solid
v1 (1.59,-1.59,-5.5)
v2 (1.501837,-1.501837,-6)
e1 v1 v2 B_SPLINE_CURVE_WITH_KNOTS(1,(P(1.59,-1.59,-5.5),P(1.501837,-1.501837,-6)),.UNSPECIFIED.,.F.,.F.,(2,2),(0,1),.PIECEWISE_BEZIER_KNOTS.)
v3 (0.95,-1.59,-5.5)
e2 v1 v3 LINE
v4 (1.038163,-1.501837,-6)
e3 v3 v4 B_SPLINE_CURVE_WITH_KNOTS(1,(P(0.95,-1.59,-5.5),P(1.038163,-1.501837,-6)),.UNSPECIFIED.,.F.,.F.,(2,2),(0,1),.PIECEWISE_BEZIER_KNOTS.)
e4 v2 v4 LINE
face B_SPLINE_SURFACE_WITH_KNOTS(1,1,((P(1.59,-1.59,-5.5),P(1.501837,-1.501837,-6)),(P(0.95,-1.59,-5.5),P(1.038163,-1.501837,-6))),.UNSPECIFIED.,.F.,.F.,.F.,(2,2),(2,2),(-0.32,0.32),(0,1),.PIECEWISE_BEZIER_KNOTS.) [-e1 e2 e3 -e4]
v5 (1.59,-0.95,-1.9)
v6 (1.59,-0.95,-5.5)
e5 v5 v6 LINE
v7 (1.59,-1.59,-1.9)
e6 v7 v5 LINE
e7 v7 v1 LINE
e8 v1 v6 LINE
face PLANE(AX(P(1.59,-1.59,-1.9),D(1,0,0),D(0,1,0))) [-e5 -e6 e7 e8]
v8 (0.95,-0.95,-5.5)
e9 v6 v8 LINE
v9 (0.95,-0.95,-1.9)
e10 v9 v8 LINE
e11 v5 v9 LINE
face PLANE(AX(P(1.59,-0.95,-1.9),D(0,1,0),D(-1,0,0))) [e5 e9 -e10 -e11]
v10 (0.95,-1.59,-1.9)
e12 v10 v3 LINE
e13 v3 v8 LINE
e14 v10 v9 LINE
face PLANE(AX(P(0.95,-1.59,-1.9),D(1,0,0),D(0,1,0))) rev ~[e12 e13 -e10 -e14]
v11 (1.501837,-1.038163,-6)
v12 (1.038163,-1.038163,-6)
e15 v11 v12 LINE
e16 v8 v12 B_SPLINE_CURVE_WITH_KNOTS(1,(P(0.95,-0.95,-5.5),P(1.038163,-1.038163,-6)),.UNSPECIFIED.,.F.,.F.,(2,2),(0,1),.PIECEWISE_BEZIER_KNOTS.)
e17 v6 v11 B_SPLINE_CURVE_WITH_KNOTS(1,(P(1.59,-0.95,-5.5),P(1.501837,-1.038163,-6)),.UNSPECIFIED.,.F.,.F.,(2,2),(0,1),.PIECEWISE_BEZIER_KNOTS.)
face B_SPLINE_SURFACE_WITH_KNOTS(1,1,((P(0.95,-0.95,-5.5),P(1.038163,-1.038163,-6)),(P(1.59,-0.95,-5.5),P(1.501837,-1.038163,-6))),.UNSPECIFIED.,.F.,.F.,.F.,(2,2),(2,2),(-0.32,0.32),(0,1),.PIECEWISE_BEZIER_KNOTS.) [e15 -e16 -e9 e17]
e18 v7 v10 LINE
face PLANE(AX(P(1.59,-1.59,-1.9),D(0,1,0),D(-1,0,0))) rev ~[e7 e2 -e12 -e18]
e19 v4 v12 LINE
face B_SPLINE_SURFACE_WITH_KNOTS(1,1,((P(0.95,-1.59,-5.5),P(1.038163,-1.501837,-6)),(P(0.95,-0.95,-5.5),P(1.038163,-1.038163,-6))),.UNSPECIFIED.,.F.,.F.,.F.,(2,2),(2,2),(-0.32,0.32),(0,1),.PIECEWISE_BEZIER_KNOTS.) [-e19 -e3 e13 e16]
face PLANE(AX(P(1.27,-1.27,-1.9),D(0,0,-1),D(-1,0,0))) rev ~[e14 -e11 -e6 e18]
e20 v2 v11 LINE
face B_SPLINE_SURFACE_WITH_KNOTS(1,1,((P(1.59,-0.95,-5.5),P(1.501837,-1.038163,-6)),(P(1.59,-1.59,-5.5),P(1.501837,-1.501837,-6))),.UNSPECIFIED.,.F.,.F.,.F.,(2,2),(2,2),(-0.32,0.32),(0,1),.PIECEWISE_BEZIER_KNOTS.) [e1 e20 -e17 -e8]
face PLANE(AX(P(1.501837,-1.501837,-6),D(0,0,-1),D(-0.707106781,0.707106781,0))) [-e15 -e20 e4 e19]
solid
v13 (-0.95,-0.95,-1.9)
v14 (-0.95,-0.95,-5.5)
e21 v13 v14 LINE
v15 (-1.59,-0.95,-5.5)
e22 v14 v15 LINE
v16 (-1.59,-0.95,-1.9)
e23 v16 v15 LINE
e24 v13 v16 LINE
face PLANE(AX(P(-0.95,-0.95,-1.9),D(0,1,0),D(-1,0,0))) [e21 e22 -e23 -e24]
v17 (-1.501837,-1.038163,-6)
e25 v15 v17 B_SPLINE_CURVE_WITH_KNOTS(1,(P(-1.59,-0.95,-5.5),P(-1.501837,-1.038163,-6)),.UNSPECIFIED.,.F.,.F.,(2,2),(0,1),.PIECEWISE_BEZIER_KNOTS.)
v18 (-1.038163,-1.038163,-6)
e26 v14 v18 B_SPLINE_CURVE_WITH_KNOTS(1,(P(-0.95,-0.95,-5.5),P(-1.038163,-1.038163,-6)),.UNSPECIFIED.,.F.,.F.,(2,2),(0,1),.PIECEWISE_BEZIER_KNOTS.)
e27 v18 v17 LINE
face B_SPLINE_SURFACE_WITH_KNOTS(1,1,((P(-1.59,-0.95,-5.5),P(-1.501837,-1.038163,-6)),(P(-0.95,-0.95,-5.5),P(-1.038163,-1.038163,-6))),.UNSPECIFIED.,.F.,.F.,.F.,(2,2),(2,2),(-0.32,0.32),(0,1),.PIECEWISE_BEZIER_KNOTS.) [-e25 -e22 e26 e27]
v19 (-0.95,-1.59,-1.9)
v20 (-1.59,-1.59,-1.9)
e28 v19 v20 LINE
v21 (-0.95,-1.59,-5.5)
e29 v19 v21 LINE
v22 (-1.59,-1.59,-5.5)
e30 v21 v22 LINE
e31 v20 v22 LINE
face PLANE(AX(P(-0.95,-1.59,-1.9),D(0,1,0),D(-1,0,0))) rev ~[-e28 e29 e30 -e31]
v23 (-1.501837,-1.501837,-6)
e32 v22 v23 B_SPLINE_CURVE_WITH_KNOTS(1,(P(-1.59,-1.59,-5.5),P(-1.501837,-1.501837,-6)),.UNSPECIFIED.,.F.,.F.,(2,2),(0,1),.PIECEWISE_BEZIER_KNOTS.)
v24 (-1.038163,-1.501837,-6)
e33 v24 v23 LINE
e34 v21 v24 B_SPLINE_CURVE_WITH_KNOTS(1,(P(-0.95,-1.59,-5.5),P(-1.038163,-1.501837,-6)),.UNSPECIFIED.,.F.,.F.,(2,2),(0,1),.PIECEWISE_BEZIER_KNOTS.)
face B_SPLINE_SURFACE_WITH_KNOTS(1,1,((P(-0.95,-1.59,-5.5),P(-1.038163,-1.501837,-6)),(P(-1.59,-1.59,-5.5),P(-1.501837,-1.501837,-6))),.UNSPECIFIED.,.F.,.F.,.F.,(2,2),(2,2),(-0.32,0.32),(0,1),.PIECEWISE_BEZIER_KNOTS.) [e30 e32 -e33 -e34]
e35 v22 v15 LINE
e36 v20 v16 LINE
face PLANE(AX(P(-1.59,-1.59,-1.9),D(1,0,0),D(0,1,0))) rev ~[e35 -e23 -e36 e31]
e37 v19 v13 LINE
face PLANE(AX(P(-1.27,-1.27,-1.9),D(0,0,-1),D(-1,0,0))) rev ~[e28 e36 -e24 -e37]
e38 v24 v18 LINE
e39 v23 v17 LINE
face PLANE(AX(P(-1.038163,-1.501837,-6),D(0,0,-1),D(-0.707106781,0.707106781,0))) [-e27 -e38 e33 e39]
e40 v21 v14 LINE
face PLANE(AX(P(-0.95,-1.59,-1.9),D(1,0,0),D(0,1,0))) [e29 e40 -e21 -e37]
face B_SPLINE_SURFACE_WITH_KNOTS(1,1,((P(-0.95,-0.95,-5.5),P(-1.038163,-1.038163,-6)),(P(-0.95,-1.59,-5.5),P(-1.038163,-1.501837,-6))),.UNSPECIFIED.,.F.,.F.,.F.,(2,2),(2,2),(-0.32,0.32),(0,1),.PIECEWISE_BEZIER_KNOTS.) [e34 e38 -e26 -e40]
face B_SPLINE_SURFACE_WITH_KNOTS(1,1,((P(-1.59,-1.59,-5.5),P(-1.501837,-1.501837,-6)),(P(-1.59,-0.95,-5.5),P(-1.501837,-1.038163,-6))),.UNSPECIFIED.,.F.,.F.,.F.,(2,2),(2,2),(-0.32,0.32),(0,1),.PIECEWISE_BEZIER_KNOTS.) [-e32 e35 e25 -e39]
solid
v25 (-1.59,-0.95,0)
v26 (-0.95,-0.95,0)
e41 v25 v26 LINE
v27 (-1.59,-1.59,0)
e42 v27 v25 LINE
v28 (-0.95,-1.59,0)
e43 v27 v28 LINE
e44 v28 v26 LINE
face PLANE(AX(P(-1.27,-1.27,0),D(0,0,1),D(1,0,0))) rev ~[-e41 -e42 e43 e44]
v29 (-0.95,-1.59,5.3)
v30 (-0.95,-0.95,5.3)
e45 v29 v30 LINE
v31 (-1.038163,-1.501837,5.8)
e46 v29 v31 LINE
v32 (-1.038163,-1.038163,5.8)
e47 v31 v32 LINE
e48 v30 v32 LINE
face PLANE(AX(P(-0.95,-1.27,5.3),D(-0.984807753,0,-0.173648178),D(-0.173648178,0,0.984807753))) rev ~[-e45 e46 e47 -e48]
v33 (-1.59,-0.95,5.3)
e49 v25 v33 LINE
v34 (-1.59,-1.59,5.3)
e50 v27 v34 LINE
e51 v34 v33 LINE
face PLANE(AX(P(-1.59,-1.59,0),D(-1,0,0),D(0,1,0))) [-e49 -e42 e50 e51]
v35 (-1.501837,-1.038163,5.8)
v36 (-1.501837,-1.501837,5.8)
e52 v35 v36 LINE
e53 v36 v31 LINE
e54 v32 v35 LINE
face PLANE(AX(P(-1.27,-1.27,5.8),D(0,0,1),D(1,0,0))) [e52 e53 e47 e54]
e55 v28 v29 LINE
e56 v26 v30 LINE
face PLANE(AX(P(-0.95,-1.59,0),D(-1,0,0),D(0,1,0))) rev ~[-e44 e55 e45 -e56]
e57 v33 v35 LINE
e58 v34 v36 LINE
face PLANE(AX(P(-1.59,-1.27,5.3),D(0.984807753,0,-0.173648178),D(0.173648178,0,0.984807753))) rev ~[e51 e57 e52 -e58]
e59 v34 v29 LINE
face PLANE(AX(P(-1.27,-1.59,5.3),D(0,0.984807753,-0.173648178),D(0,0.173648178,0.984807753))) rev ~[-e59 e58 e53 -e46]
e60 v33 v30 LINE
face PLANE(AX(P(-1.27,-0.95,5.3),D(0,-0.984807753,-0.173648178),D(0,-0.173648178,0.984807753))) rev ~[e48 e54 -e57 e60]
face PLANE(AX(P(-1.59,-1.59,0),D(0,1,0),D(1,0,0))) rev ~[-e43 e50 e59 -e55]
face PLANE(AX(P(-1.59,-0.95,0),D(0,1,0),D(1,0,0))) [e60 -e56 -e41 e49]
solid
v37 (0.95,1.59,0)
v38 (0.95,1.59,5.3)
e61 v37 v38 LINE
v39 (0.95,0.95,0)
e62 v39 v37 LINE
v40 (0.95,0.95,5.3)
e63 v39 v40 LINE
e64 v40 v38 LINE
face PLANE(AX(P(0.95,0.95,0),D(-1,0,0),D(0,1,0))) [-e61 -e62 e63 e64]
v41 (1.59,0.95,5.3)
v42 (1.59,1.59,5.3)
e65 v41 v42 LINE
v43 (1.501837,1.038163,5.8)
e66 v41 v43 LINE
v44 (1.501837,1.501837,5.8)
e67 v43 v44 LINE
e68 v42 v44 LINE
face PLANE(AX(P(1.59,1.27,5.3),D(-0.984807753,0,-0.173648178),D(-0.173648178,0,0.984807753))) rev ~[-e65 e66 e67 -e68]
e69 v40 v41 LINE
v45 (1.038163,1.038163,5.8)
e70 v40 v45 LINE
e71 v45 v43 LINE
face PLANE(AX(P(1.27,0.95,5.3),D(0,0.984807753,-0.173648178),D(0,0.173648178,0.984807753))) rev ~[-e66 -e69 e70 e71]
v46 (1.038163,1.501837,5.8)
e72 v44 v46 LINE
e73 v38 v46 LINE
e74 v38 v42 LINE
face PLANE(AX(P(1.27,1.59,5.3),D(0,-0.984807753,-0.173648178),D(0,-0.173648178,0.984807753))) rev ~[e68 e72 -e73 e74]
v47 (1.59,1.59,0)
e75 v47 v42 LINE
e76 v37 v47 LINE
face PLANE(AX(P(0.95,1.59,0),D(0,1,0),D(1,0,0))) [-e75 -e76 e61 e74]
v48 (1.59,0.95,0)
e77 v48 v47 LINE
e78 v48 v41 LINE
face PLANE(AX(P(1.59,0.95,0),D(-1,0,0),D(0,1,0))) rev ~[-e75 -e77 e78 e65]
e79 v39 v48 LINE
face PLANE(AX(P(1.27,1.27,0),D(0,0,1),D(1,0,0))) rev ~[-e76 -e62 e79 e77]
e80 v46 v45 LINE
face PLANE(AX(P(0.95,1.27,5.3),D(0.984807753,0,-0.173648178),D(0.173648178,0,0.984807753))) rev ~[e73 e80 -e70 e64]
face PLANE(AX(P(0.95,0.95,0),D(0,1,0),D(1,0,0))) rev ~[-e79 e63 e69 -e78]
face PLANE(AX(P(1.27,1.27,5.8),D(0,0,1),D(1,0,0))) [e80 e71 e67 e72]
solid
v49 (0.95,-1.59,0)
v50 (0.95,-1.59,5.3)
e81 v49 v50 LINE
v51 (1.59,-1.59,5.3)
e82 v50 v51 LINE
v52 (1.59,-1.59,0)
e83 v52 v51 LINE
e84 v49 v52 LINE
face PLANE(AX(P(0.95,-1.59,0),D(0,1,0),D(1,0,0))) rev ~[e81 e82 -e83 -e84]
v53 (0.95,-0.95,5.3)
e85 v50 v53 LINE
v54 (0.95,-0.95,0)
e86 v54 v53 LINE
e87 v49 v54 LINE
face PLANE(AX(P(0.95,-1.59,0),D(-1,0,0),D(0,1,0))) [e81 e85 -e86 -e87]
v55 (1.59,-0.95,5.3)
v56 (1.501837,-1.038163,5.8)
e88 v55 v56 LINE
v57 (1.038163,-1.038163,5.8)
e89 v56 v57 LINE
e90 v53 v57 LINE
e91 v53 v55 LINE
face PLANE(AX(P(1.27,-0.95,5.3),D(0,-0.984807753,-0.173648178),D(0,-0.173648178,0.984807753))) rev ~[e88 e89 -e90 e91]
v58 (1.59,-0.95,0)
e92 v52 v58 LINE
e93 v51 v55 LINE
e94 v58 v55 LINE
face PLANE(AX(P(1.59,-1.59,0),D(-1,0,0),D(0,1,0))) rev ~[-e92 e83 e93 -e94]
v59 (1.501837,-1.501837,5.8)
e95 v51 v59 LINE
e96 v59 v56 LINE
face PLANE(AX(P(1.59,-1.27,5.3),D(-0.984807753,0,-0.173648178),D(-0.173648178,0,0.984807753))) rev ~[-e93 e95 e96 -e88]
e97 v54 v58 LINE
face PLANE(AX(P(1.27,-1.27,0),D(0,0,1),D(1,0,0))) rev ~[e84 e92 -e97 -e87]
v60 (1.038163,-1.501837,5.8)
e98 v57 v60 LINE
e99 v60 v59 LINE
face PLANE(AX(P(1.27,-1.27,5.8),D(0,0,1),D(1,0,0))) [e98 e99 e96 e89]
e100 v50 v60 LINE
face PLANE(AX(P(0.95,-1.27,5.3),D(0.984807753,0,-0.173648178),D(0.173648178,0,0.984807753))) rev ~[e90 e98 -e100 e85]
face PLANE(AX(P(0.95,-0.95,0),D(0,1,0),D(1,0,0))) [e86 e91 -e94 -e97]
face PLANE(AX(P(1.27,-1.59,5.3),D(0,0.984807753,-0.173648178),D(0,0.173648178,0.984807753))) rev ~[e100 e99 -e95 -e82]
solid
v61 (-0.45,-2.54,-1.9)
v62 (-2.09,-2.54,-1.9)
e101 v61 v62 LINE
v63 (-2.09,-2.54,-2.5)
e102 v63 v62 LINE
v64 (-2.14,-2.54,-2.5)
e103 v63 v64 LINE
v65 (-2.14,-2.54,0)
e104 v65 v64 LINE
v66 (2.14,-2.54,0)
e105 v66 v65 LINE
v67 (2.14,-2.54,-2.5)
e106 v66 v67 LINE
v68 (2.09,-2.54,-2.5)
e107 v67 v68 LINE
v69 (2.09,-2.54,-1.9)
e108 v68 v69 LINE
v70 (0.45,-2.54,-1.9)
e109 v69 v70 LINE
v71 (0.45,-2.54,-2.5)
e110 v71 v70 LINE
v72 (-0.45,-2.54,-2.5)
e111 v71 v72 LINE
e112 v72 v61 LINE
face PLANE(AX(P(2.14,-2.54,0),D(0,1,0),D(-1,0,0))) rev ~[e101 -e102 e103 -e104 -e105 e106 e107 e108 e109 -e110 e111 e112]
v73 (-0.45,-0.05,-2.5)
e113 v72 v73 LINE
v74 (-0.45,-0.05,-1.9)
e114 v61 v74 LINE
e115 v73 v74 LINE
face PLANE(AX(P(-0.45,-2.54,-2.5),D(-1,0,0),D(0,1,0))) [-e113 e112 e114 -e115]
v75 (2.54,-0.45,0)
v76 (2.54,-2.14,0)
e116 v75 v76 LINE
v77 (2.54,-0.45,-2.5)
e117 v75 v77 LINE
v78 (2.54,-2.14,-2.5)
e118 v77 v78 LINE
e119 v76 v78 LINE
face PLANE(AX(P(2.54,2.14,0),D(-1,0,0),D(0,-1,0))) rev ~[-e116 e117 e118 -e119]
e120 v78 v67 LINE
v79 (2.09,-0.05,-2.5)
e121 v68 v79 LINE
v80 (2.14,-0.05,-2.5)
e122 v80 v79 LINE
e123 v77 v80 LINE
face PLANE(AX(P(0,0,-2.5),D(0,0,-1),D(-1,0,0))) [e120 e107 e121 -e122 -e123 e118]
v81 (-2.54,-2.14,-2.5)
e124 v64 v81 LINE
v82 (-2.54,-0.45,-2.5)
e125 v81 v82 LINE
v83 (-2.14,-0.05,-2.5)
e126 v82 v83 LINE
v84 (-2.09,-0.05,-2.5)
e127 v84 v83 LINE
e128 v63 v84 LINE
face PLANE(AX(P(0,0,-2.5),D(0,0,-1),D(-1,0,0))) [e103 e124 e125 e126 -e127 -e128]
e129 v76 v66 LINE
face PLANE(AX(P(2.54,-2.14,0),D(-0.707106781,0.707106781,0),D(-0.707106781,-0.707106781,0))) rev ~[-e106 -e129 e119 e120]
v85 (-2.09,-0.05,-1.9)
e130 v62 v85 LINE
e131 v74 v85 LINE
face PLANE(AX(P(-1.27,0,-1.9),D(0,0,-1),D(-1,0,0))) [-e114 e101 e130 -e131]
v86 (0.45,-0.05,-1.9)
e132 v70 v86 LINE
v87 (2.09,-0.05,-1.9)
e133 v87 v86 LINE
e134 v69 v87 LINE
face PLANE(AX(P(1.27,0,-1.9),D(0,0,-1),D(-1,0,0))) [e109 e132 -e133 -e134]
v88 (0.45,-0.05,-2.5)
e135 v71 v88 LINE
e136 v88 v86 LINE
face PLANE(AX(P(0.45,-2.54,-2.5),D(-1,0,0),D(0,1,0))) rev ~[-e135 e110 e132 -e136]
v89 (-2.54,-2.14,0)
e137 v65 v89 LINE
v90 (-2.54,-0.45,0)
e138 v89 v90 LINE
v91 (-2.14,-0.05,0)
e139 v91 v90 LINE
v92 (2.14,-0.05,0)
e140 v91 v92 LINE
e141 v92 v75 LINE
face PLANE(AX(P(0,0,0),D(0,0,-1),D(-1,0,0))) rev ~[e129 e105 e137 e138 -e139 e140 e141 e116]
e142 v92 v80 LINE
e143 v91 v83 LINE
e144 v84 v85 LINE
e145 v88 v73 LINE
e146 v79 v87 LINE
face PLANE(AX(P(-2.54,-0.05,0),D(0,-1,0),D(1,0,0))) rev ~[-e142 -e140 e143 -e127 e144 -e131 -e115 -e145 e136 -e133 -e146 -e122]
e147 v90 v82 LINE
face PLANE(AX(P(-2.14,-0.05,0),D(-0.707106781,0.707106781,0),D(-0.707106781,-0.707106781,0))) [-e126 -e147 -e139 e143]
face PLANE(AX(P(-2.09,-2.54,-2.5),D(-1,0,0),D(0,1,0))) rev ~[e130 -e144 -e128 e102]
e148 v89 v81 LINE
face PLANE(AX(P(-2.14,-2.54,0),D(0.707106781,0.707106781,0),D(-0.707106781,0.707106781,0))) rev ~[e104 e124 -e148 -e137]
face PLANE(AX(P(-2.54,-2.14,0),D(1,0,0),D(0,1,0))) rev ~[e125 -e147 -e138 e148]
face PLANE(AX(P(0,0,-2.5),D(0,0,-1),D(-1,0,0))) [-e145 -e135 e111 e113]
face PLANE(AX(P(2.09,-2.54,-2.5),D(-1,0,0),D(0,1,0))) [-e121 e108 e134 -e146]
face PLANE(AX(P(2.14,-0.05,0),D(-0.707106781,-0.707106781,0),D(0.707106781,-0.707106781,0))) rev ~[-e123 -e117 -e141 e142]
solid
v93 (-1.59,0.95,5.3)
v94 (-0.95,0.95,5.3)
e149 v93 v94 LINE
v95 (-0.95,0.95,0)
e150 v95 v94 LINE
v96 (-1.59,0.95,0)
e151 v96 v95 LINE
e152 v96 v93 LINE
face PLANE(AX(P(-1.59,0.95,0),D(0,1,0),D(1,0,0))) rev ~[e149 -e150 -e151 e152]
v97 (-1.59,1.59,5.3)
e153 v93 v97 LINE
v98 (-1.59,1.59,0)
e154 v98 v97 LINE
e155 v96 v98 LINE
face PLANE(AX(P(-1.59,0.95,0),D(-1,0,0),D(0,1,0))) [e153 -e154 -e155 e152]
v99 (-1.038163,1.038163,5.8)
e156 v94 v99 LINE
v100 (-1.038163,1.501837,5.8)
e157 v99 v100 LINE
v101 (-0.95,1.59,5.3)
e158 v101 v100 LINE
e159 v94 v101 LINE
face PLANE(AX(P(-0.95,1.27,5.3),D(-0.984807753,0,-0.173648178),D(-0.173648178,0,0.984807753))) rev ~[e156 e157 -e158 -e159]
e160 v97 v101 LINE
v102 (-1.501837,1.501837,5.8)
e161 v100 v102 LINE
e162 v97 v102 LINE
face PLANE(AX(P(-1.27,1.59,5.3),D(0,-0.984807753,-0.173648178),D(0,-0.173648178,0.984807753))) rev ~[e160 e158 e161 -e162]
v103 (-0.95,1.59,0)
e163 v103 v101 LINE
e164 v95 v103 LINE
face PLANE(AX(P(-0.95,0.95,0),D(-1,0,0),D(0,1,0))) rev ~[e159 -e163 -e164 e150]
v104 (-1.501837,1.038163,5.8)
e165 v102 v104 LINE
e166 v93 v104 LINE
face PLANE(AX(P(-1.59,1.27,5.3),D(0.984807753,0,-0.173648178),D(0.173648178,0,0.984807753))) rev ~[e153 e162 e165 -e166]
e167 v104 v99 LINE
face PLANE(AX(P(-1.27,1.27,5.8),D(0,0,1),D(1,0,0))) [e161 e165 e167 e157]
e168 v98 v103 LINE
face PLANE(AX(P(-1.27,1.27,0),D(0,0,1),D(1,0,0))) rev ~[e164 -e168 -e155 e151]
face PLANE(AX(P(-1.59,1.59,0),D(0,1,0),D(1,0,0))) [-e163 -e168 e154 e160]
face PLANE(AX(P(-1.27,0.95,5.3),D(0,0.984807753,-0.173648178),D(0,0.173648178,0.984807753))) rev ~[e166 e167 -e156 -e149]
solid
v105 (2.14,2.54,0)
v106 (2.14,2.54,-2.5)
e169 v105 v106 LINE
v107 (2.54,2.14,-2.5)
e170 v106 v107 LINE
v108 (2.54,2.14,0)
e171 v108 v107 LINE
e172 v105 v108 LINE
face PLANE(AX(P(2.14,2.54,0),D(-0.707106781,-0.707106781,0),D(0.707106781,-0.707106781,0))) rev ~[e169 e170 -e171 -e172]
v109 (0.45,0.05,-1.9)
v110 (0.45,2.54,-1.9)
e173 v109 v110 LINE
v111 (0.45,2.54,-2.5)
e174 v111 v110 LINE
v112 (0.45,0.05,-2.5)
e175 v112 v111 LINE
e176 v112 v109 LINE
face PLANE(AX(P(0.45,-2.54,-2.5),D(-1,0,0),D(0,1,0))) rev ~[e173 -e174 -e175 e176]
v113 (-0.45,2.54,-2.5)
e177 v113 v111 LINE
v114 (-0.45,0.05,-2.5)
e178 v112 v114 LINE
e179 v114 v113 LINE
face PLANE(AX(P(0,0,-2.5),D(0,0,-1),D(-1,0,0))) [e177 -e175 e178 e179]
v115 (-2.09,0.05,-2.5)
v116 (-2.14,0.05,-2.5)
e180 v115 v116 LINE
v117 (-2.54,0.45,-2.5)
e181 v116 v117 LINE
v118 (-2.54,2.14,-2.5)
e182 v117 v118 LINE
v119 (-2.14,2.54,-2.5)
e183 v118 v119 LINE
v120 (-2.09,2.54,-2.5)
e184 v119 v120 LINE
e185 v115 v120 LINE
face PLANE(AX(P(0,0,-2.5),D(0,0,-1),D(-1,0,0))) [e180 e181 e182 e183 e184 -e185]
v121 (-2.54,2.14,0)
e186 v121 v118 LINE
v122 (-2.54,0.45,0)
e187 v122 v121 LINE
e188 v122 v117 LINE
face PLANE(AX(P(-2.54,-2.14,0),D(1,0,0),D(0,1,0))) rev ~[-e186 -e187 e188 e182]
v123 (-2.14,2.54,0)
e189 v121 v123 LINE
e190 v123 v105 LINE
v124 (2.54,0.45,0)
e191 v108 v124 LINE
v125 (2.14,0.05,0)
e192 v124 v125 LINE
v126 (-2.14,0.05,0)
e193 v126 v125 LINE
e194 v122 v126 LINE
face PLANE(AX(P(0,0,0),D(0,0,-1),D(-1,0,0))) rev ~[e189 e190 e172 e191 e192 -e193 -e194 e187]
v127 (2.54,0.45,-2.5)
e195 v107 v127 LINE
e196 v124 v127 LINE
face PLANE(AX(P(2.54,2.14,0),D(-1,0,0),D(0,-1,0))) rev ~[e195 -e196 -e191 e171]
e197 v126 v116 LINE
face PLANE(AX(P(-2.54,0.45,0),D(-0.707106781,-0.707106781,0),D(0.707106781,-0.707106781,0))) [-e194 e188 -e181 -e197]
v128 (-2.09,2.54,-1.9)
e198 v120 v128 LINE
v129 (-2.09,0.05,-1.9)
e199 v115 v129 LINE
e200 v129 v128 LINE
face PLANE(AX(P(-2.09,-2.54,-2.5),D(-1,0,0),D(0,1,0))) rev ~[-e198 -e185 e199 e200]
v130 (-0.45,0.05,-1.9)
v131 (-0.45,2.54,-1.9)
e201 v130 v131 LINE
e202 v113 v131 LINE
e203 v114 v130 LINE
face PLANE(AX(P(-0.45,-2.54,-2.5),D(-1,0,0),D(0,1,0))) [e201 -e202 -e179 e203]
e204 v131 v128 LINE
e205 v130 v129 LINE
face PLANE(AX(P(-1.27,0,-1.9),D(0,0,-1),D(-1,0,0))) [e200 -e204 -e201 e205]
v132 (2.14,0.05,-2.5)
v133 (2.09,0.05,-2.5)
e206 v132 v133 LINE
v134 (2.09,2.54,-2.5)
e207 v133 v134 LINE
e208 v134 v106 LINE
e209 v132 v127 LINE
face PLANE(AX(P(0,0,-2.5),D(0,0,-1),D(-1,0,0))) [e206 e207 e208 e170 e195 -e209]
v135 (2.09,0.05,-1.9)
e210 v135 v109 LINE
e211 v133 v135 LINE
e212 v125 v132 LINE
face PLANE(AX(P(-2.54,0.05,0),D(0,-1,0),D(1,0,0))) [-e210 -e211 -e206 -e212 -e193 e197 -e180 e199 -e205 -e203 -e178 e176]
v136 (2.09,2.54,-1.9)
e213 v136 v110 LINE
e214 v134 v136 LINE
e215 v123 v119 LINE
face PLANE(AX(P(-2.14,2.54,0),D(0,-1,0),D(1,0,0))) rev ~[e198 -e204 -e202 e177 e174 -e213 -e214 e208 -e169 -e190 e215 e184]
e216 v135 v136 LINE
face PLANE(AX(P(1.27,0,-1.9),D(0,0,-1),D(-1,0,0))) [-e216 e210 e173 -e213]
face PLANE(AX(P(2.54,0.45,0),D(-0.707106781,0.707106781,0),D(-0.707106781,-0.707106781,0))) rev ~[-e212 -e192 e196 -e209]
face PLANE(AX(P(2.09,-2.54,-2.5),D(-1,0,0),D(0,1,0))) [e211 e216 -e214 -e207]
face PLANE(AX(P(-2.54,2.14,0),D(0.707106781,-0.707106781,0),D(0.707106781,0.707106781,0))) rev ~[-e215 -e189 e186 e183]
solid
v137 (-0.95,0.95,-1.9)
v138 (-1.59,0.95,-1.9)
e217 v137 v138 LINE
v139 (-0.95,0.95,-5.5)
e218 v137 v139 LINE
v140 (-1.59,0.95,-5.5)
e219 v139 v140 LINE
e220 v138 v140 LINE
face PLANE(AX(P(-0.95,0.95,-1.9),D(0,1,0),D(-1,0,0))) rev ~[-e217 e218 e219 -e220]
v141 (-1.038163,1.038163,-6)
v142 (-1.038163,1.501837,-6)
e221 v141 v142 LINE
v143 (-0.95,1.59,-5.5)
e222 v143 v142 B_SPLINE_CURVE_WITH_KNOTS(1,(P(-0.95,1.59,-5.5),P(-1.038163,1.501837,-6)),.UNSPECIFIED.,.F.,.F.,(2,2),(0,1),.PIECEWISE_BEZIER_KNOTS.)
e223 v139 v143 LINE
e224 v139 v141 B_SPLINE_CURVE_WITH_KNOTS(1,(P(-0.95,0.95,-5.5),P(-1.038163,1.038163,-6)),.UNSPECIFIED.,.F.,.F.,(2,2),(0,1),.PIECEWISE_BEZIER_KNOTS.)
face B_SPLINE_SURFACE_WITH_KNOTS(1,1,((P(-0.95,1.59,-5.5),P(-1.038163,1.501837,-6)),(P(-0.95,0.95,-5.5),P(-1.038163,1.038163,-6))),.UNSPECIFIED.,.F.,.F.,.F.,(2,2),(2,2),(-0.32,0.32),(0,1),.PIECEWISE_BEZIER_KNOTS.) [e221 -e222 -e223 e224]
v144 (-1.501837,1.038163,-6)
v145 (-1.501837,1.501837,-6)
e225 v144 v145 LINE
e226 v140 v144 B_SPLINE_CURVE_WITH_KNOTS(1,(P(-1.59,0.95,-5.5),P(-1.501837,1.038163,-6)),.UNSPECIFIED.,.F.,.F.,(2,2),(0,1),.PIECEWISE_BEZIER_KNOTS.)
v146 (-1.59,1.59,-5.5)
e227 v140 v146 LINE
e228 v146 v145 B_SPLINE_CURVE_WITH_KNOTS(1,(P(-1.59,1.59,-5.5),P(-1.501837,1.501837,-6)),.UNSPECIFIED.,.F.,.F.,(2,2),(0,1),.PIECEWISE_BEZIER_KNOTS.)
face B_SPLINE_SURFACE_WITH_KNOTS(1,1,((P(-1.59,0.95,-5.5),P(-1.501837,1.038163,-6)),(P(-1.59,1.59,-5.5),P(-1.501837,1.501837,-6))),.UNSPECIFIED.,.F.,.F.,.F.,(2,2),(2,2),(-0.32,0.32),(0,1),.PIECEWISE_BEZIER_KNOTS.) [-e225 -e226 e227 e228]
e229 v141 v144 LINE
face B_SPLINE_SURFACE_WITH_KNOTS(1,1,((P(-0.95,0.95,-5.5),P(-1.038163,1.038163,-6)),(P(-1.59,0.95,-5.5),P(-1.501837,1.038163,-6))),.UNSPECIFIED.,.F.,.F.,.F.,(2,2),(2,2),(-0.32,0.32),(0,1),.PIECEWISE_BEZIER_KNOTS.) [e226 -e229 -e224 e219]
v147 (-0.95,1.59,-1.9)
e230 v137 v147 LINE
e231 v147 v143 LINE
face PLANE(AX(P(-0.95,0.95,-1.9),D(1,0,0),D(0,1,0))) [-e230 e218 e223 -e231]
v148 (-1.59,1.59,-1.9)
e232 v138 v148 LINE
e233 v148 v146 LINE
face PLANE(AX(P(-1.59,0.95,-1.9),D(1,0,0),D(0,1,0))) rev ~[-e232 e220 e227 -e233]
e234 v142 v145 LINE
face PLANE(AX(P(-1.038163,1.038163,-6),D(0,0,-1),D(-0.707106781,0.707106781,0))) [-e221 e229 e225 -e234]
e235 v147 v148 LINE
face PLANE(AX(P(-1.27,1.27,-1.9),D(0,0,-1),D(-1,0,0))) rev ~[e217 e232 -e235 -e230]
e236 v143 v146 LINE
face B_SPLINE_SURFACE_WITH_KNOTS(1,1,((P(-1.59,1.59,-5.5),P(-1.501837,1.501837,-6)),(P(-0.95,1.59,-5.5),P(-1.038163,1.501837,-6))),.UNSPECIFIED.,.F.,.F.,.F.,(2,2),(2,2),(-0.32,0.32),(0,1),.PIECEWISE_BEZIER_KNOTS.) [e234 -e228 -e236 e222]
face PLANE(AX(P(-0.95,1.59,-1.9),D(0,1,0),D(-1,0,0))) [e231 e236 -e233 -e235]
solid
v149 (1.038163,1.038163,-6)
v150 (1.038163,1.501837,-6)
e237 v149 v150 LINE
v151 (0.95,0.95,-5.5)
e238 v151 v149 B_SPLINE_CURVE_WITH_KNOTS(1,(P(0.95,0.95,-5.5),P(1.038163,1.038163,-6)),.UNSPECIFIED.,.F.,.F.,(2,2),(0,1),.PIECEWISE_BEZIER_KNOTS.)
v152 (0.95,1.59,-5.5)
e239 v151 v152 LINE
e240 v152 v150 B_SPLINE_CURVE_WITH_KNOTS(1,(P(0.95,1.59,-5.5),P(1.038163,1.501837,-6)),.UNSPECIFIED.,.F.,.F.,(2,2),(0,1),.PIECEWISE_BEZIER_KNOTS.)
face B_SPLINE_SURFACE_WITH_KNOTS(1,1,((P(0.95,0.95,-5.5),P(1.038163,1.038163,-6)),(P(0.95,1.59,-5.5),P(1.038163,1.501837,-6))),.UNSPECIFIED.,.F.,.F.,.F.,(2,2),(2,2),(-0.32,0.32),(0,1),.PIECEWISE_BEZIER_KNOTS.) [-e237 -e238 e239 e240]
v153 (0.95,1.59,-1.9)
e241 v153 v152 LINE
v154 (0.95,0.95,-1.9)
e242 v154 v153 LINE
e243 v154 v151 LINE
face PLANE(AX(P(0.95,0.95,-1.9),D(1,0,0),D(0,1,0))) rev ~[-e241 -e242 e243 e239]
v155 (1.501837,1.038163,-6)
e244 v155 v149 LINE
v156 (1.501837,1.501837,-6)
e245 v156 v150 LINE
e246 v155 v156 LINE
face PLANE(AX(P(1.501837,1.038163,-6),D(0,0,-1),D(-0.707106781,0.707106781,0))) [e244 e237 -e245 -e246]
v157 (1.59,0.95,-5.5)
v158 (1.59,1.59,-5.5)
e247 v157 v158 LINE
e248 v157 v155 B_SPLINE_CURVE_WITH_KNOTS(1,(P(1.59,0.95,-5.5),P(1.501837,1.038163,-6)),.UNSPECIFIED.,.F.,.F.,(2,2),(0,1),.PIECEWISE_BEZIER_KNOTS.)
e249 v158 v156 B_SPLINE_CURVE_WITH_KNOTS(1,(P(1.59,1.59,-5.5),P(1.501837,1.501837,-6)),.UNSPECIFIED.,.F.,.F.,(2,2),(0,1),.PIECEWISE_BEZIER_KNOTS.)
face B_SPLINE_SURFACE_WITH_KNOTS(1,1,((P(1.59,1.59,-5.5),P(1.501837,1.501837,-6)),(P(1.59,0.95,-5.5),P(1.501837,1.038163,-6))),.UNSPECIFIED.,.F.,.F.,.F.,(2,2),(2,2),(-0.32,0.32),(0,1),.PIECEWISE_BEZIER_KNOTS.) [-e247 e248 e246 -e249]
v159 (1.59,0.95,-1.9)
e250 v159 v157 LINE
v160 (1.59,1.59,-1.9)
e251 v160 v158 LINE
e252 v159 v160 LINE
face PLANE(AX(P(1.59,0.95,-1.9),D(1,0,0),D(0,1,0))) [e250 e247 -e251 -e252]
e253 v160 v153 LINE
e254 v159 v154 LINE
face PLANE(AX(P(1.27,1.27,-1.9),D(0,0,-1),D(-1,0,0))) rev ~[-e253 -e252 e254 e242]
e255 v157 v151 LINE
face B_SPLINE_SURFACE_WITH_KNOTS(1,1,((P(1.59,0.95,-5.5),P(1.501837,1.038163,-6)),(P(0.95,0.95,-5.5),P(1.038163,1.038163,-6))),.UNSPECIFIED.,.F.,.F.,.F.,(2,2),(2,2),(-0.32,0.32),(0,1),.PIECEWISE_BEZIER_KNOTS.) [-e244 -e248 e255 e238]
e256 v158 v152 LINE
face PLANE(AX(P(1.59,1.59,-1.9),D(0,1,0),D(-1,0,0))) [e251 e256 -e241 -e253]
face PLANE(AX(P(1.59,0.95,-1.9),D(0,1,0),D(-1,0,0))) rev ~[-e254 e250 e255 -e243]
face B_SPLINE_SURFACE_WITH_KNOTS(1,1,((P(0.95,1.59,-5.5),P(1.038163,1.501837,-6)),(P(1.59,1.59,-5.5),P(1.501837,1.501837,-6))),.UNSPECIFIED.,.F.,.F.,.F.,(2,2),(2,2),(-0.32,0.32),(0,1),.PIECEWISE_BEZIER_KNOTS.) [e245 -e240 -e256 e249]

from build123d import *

# Parameters (mm, degrees)
SKETCH1_W             = 0.64
SKETCH1_H             = 0.64
BOSS_EXTRUDE1_DEPTH   = 5.3
BOSS_EXTRUDE1_2_DEPTH = 5.3
BOSS_EXTRUDE1_3_DEPTH = 5.3
BOSS_EXTRUDE1_4_DEPTH = 5.3
SKETCH2_W             = 0.64
SKETCH2_H             = 0.64
BOSS_EXTRUDE2_DEPTH   = 0.5
BOSS_EXTRUDE2_TAPER   = 10
BOSS_EXTRUDE3_DEPTH   = 2.5
SKETCH5_W             = 1.64
SKETCH5_H             = 5.08
CUT_EXTRUDE1_DEPTH    = 0.6
SKETCH6_W             = 5.08
SKETCH6_H             = 0.1
CUT_EXTRUDE2_DEPTH    = 3.5
CUT_EXTRUDE3_DEPTH    = 3.5
SKETCH8_W             = 0.64
SKETCH8_H             = 0.64
BOSS_EXTRUDE4_DEPTH   = 3.6
BOSS_EXTRUDE4_2_DEPTH = 3.6
BOSS_EXTRUDE4_3_DEPTH = 3.6
BOSS_EXTRUDE4_4_DEPTH = 3.6
SKETCH9_W             = 0.64
SKETCH9_H             = 0.64
BOSS_EXTRUDE5_DEPTH   = 0.5
BOSS_EXTRUDE5_TAPER   = 10


with BuildPart() as part:
    # Sketch1 → Boss-Extrude1 (new body)
    with BuildSketch(Plane.XY):
        with Locations((-1.27, 1.27)):
            Rectangle(SKETCH1_W, SKETCH1_H)
    extrude(amount=BOSS_EXTRUDE1_DEPTH)



with BuildPart() as body_2:
    # Sketch1 → Boss-Extrude1 2 (new body)
    with BuildSketch(Plane.XY):
        with Locations((-1.27, -1.27)):
            Rectangle(SKETCH1_W, SKETCH1_H)
    extrude(amount=BOSS_EXTRUDE1_2_DEPTH)


with BuildPart() as body_3:
    # Sketch1 → Boss-Extrude1 3 (new body)
    with BuildSketch(Plane.XY):
        with Locations((1.27, 1.27)):
            Rectangle(SKETCH1_W, SKETCH1_H)
    extrude(amount=BOSS_EXTRUDE1_3_DEPTH)


with BuildPart() as body_4:
    # Sketch1 → Boss-Extrude1 4 (new body)
    with BuildSketch(Plane.XY):
        with Locations((1.27, -1.27)):
            Rectangle(SKETCH1_W, SKETCH1_H)
    extrude(amount=BOSS_EXTRUDE1_4_DEPTH)


with BuildPart() as part_1:
    add(part.part)

    add(body_2.part)  # Boss-Extrude2 merges body 2

    add(body_3.part)  # Boss-Extrude2 merges body 3

    add(body_4.part)  # Boss-Extrude2 merges body 4
    # Sketch2 → Boss-Extrude2 (add)
    with BuildSketch(Plane.XY.offset(5.3)):
        with Locations((-1.27, -1.27)):
            Rectangle(SKETCH2_W, SKETCH2_H)
        with Locations((-1.27, 1.27)):
            Rectangle(SKETCH2_W, SKETCH2_H)
        with Locations((1.27, -1.27)):
            Rectangle(SKETCH2_W, SKETCH2_H)
        with Locations((1.27, 1.27)):
            Rectangle(SKETCH2_W, SKETCH2_H)
    extrude(amount=BOSS_EXTRUDE2_DEPTH, taper=BOSS_EXTRUDE2_TAPER)


with BuildPart() as body_2_2:
    # Sketch3 → Boss-Extrude3 (new body)
    with BuildSketch(Plane.XY):
        Polygon((-2.14, 2.54), (2.14, 2.54), (2.54, 2.14), (2.54, -2.14), (2.14, -2.54), (-2.14, -2.54), (-2.54, -2.14), (-2.54, 2.14), align=None)
    extrude(amount=-BOSS_EXTRUDE3_DEPTH)

    # Sketch5 → Cut-Extrude1 (cut)
    with BuildSketch(Plane(origin=(0, 0, -2.5), x_dir=(-1, 0, 0), z_dir=(0, 0, -1))):
        with Locations((-1.27, 0)):
            Rectangle(SKETCH5_W, SKETCH5_H)
        with Locations((1.27, 0)):
            Rectangle(SKETCH5_W, SKETCH5_H)
    extrude(amount=-CUT_EXTRUDE1_DEPTH, mode=Mode.SUBTRACT)

    # Sketch6 → Cut-Extrude2 (cut, through all)
    with BuildSketch(Plane.XY):
        Rectangle(SKETCH6_W, SKETCH6_H)
    extrude(amount=-CUT_EXTRUDE2_DEPTH, mode=Mode.SUBTRACT)

    # Sketch7 → Cut-Extrude3 (cut, through all)
    with BuildSketch(Plane.XY):
        Polygon((2.54, 0.45), (2.14, 0.05), (2.54, 0.05), align=None)
        Polygon((2.54, -0.05), (2.14, -0.05), (2.54, -0.45), align=None)
        Polygon((-2.54, -0.45), (-2.54, -0.05), (-2.14, -0.05), align=None)
        Polygon((-2.54, 0.05), (-2.54, 0.45), (-2.14, 0.05), align=None)
    extrude(amount=-CUT_EXTRUDE3_DEPTH, mode=Mode.SUBTRACT)


with BuildPart() as body_3_2:
    # Sketch8 → Boss-Extrude4 (new body)
    with BuildSketch(Plane(origin=(0, 0, -1.9), x_dir=(-1, 0, 0), z_dir=(0, 0, -1))):
        with Locations((1.27, -1.27)):
            Rectangle(SKETCH8_W, SKETCH8_H)
    extrude(amount=BOSS_EXTRUDE4_DEPTH)



with BuildPart() as body_4_2:
    # Sketch8 → Boss-Extrude4 2 (new body)
    with BuildSketch(Plane(origin=(0, 0, -1.9), x_dir=(-1, 0, 0), z_dir=(0, 0, -1))):
        with Locations((1.27, 1.27)):
            Rectangle(SKETCH8_W, SKETCH8_H)
    extrude(amount=BOSS_EXTRUDE4_2_DEPTH)


with BuildPart() as body_5:
    # Sketch8 → Boss-Extrude4 3 (new body)
    with BuildSketch(Plane(origin=(0, 0, -1.9), x_dir=(-1, 0, 0), z_dir=(0, 0, -1))):
        with Locations((-1.27, 1.27)):
            Rectangle(SKETCH8_W, SKETCH8_H)
    extrude(amount=BOSS_EXTRUDE4_3_DEPTH)


with BuildPart() as body_6:
    # Sketch8 → Boss-Extrude4 4 (new body)
    with BuildSketch(Plane(origin=(0, 0, -1.9), x_dir=(-1, 0, 0), z_dir=(0, 0, -1))):
        with Locations((-1.27, -1.27)):
            Rectangle(SKETCH8_W, SKETCH8_H)
    extrude(amount=BOSS_EXTRUDE4_4_DEPTH)


with BuildPart() as body_3_2_1:
    add(body_3_2.part)

    add(body_4_2.part)  # Boss-Extrude5 merges body 4 2

    add(body_5.part)  # Boss-Extrude5 merges body 5

    add(body_6.part)  # Boss-Extrude5 merges body 6
    # Sketch9 → Boss-Extrude5 (add)
    with BuildSketch(Plane(origin=(0, 0, -5.5), x_dir=(-1, 0, 0), z_dir=(0, 0, -1))):
        with Locations((1.27, 1.27)):
            Rectangle(SKETCH9_W, SKETCH9_H)
        with Locations((1.27, -1.27)):
            Rectangle(SKETCH9_W, SKETCH9_H)
        with Locations((-1.27, -1.27)):
            Rectangle(SKETCH9_W, SKETCH9_H)
        with Locations((-1.27, 1.27)):
            Rectangle(SKETCH9_W, SKETCH9_H)
    extrude(amount=BOSS_EXTRUDE5_DEPTH, taper=BOSS_EXTRUDE5_TAPER)


solid = Compound([part_1.part, body_2_2.part, body_3_2_1.part])
